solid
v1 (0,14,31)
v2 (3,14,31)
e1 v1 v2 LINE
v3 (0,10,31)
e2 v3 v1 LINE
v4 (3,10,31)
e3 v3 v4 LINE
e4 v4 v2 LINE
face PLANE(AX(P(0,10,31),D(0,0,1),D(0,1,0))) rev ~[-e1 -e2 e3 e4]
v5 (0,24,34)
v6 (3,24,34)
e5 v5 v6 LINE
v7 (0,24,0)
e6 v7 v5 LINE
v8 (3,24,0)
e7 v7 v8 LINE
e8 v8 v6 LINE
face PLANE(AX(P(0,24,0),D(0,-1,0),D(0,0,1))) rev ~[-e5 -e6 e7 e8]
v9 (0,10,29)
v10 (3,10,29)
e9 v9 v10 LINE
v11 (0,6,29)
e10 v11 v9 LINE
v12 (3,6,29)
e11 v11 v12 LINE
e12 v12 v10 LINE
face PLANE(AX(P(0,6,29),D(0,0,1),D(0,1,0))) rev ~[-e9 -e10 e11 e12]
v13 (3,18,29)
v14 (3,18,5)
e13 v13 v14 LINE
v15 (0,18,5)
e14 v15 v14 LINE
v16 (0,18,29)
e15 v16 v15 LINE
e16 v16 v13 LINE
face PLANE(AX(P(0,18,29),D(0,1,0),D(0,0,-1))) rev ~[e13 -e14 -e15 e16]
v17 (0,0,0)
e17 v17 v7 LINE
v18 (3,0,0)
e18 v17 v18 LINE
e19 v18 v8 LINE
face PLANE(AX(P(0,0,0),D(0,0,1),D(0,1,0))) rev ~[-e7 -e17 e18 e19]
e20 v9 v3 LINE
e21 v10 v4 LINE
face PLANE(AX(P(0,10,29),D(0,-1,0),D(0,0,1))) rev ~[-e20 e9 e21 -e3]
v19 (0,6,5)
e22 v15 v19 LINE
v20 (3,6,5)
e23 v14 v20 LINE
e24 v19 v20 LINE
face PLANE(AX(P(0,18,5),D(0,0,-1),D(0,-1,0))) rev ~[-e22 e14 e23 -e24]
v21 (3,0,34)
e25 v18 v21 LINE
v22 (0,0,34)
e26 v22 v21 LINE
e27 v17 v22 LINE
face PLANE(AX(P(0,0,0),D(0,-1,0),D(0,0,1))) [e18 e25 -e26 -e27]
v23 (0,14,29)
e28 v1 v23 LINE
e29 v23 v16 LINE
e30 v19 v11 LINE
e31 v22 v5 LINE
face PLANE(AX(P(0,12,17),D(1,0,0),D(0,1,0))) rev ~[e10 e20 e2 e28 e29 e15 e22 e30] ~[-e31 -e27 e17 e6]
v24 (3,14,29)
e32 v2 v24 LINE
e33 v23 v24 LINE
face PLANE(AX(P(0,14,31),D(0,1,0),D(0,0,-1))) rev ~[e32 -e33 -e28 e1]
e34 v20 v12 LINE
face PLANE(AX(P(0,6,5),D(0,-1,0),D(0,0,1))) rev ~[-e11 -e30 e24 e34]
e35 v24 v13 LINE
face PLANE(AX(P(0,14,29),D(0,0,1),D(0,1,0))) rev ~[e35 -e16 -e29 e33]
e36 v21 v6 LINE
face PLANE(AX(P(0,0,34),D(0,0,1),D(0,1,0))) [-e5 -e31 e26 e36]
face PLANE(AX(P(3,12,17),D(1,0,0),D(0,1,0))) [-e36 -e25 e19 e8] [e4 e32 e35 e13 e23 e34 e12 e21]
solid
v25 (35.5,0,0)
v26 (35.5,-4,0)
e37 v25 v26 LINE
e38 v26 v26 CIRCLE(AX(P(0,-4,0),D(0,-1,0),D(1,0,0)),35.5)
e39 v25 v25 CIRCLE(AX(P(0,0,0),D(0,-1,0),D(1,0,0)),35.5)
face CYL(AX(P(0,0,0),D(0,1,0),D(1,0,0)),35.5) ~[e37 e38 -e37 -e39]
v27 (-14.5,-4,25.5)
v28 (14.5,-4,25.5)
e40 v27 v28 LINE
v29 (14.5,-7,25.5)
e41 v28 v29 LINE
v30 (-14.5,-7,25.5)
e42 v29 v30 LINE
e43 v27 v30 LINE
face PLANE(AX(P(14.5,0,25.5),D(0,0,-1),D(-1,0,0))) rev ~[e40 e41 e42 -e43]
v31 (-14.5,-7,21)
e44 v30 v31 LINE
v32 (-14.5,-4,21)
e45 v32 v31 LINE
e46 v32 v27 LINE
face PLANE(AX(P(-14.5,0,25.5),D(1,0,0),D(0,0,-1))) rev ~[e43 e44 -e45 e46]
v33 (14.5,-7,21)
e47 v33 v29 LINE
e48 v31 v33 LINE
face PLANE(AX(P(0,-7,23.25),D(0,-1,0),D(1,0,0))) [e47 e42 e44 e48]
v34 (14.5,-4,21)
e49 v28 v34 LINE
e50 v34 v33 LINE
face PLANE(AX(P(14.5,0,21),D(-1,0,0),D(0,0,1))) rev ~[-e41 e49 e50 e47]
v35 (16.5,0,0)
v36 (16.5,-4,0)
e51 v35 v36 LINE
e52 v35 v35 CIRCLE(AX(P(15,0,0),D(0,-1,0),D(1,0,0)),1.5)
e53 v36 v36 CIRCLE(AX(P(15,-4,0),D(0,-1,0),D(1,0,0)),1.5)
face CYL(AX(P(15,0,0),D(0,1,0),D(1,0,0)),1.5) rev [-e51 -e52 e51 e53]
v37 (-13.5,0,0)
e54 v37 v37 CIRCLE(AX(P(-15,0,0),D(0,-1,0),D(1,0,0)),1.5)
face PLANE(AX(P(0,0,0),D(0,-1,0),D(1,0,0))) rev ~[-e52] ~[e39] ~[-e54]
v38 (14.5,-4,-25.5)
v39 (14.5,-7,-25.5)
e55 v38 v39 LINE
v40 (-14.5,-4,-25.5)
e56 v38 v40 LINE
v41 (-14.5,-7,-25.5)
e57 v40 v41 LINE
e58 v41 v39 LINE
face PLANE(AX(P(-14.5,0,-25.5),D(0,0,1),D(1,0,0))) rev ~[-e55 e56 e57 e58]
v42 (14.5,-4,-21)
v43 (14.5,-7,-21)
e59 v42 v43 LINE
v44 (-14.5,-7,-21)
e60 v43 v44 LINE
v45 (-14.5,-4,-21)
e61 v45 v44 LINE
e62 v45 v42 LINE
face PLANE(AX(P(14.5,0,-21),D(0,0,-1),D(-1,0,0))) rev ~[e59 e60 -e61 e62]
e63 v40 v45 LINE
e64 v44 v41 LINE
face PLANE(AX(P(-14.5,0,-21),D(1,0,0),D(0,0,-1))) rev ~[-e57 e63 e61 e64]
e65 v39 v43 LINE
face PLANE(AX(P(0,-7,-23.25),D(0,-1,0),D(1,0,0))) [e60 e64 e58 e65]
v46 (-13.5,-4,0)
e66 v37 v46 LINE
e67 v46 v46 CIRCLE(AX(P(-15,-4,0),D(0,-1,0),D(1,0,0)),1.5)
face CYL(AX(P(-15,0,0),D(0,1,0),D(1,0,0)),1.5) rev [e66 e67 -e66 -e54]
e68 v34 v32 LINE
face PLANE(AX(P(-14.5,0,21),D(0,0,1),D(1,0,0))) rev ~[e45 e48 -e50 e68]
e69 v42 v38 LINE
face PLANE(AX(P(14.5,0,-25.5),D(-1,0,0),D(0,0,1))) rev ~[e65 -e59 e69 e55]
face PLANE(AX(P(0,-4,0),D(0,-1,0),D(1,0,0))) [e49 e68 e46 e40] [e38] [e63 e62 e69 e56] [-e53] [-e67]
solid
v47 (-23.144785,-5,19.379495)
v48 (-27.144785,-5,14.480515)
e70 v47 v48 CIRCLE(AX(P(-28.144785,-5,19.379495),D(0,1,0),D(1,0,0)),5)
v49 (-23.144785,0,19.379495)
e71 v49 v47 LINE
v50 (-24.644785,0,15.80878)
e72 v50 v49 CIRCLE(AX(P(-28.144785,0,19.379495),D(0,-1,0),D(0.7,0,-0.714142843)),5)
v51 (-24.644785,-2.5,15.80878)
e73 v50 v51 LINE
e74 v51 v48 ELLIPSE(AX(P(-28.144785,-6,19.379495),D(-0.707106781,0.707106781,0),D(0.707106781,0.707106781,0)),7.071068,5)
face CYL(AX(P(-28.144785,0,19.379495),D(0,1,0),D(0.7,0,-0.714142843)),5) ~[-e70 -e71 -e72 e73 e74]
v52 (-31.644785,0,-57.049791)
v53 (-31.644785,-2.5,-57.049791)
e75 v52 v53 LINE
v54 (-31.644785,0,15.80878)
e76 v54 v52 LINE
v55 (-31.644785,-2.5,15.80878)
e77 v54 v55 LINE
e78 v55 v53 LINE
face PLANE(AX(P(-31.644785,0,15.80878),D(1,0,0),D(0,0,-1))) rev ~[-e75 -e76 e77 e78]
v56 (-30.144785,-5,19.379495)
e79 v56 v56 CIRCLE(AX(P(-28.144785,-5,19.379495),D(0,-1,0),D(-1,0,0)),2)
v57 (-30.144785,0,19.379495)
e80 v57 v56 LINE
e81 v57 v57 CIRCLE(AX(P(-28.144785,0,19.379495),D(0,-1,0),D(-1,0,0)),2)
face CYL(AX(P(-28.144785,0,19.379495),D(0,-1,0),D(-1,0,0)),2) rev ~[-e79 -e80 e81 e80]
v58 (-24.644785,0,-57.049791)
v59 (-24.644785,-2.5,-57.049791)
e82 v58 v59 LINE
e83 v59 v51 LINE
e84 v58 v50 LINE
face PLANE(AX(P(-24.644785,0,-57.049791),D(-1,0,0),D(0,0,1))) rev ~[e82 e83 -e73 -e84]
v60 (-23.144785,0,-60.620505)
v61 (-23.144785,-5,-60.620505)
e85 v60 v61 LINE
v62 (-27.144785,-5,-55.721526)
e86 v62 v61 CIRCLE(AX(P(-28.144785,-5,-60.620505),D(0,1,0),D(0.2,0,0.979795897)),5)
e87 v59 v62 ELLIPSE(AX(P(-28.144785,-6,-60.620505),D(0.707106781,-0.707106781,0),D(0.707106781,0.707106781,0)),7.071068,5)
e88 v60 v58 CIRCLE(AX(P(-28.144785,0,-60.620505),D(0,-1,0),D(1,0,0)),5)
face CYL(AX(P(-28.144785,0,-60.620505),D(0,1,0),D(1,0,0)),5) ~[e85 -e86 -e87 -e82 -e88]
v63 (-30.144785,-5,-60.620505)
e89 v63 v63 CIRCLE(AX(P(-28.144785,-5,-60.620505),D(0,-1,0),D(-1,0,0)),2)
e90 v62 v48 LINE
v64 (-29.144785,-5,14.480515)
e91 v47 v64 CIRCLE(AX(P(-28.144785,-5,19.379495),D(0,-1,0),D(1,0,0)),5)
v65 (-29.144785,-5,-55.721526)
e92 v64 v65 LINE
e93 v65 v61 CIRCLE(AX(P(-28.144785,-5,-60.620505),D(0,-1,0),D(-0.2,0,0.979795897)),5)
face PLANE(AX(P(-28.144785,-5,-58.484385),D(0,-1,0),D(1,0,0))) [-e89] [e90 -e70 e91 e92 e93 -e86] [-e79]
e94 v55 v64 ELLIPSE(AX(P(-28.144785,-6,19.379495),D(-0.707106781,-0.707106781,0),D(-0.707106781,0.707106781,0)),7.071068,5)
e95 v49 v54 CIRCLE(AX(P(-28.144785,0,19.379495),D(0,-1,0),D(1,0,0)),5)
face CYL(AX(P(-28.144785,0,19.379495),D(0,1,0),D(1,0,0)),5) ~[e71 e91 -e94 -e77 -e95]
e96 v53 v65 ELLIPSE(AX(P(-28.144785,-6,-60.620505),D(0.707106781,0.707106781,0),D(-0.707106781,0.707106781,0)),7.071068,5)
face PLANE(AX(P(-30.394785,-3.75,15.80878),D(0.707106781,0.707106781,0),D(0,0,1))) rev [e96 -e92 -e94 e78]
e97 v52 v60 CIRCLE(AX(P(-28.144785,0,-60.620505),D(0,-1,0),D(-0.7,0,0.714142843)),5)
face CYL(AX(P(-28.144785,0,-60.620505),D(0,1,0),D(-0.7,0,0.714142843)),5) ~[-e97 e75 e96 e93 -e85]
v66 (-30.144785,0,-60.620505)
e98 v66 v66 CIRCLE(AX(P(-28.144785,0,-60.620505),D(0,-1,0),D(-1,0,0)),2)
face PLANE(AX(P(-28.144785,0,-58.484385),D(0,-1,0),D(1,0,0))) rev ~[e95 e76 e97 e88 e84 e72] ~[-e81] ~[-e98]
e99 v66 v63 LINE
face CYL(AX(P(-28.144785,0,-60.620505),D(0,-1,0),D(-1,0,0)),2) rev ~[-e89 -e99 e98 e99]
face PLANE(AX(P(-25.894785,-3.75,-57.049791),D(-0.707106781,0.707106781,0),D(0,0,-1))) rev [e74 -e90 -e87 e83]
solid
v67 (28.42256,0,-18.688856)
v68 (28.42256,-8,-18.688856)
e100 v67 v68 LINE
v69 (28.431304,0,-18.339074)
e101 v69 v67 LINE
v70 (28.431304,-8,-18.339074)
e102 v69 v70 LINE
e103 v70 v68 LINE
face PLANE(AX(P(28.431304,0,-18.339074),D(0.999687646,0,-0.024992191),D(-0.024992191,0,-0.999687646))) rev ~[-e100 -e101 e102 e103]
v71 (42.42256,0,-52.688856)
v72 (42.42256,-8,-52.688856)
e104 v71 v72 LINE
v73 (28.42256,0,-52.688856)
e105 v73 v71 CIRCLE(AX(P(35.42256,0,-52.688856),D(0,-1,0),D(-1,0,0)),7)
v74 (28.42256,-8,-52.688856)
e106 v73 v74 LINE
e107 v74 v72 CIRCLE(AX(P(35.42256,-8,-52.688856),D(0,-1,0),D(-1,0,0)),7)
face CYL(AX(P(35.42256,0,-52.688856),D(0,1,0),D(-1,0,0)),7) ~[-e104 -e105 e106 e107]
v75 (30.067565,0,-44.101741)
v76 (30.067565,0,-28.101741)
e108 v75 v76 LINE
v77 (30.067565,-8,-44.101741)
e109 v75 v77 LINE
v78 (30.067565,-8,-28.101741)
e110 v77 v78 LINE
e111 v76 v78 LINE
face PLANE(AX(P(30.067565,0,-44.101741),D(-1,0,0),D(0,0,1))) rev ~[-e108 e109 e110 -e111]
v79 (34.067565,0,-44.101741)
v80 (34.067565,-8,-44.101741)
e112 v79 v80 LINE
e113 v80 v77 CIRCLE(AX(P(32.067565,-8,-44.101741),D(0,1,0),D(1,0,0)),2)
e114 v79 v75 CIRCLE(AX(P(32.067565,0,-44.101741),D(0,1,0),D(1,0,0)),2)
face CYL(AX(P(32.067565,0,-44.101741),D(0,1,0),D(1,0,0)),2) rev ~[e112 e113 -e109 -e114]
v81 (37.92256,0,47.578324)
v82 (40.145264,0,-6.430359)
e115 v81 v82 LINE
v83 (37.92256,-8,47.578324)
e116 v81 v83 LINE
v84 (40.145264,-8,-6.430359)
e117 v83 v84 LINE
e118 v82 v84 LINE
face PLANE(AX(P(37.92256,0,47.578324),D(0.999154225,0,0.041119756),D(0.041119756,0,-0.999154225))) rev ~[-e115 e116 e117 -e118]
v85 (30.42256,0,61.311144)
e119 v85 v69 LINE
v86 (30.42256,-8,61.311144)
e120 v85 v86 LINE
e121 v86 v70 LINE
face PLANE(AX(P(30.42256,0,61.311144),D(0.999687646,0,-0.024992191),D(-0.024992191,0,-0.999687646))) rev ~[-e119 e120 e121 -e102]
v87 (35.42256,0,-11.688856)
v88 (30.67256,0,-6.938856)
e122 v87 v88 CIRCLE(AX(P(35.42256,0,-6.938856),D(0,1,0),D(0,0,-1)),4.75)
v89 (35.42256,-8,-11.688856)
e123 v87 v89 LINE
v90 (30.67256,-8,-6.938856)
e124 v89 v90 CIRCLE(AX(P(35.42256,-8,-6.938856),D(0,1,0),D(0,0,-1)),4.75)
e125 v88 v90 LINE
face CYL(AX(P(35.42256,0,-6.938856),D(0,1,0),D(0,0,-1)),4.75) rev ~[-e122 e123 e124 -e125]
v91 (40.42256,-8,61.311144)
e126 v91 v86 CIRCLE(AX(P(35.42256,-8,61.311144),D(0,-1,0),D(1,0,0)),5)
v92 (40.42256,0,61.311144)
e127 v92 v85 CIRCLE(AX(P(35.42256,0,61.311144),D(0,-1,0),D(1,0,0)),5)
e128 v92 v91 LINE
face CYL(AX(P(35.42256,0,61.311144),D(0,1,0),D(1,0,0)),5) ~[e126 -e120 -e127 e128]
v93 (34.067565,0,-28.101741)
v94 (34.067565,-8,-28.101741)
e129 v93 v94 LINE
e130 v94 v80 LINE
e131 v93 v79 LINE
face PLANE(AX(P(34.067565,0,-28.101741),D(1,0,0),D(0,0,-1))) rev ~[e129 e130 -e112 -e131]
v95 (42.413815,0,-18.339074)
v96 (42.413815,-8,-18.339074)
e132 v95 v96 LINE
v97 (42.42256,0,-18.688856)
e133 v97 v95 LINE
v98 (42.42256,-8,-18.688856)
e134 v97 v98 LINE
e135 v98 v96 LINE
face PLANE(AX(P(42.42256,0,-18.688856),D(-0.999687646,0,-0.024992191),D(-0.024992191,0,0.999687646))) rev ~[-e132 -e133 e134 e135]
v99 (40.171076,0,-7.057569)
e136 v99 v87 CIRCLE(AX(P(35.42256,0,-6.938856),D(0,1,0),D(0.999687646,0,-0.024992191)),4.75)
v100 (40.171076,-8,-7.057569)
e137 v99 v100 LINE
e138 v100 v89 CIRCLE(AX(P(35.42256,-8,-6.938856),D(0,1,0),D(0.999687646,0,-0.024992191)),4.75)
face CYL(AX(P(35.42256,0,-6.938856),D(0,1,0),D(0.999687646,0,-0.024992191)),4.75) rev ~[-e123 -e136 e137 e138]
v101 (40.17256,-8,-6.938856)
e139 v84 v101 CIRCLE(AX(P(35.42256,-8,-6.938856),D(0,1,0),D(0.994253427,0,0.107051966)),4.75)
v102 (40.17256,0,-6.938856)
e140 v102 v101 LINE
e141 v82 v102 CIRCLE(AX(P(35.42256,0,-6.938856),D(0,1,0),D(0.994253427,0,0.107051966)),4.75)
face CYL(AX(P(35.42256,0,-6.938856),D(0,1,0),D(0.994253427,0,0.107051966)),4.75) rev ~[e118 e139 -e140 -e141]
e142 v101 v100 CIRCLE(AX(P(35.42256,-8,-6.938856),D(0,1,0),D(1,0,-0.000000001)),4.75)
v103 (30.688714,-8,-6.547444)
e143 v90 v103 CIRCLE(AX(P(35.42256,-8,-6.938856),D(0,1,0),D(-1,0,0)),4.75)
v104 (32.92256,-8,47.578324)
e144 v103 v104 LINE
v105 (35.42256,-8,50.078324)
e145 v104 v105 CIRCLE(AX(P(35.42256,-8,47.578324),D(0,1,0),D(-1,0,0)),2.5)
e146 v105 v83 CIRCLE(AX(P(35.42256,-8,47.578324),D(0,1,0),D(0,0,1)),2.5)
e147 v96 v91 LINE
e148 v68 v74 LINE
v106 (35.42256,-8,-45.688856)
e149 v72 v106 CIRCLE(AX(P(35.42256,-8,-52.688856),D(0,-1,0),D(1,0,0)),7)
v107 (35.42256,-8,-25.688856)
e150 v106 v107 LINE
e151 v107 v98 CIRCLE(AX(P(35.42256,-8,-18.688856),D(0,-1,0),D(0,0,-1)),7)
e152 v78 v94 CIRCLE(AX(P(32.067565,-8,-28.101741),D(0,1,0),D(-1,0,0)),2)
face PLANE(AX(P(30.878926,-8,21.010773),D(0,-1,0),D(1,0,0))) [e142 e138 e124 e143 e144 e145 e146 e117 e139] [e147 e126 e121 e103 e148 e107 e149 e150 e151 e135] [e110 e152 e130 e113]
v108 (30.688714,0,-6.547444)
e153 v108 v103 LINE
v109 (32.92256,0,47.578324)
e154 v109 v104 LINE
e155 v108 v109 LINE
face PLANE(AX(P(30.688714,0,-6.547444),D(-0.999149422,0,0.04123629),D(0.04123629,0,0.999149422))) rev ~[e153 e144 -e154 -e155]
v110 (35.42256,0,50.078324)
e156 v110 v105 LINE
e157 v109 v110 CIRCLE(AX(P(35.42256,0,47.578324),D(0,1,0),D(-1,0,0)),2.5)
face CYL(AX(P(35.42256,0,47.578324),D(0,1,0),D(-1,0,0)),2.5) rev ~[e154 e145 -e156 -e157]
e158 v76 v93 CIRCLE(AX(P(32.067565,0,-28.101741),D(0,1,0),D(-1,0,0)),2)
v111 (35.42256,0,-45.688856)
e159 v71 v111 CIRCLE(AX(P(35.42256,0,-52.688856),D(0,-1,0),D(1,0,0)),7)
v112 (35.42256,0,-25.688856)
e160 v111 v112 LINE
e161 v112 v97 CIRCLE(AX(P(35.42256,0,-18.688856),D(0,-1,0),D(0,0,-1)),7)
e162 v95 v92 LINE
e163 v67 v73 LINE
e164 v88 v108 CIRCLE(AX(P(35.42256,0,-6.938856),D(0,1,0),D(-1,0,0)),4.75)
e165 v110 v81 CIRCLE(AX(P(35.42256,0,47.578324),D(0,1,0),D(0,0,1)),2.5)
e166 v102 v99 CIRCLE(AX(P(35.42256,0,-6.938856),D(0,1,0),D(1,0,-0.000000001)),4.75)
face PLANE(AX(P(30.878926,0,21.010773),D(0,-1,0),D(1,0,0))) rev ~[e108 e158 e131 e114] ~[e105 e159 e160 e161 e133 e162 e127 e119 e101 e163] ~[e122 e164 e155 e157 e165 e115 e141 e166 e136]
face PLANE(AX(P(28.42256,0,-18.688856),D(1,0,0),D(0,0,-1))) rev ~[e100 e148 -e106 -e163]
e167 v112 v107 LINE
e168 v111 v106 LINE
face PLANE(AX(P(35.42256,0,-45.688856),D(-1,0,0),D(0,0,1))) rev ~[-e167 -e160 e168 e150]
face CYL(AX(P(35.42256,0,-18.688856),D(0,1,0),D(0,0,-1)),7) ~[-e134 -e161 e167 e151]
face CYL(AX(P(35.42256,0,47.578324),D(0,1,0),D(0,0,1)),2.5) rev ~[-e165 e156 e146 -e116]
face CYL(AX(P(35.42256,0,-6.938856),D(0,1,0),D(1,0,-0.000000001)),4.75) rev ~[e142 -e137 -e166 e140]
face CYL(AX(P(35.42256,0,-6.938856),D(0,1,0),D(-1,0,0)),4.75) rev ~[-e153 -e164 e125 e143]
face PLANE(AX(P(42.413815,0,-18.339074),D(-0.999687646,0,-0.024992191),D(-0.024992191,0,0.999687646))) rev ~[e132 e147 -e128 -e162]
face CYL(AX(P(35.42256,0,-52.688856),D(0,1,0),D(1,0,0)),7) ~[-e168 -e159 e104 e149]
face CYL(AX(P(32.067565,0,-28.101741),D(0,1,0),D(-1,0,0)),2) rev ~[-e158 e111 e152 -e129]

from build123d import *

# Parameters (mm, degrees)
F0_R           = 35.5
F0_R_2         = 1.5
F1_DEPTH       = 4
F2_DEPTH       = 7
F5_DEPTH       = 5
F6_SIZE        = 2.5
F7_D           = 4
F7_DEPTH       = 6
F7_CBORE_D     = 6
F7_CBORE_DEPTH = 0
F7_TIP         = 1.2017212381
F3_W           = 24
F3_H           = 34
F8_DEPTH       = 3
F10_DEPTH      = 8


with BuildPart() as f1:
    # F0 (on Front) → F1 (new body)
    with BuildSketch(Plane.XZ):
        Circle(F0_R)
        Polygon((14.5, -21), (14.5, -25.5), (-14.5, -25.5), (-14.5, -21), (0, -21), align=None, mode=Mode.SUBTRACT)
        with Locations((-15, 0)):
            Circle(F0_R_2, mode=Mode.SUBTRACT)
        with Locations((15, 0)):
            Circle(F0_R_2, mode=Mode.SUBTRACT)
        Polygon((14.5, 21), (0, 21), (-14.5, 21), (-14.5, 25.5), (14.5, 25.5), align=None, mode=Mode.SUBTRACT)
    extrude(amount=F1_DEPTH)

    # F0 (on Front) → F2 (join)
    with BuildSketch(Plane.XZ):
        Polygon((-14.5, -25.5), (14.5, -25.5), (14.5, -21), (0, -21), (-14.5, -21), align=None)
        Polygon((-14.5, 21), (0, 21), (14.5, 21), (14.5, 25.5), (-14.5, 25.5), align=None)
    extrude(amount=F2_DEPTH)


with BuildPart() as f5:
    # F4 (on Front) → F5 (new body)
    with BuildSketch(Plane.XZ):
        with BuildLine():
            ThreePointArc((-24.6447846293, -57.0497911485), (-28.1447846293, -55.6205053627), (-31.6447846293, -57.0497911485))
            Line((-31.6447846293, -57.0497911485), (-31.6447846293, -60.6205053627))
            Line((-31.6447846293, -60.6205053627), (-28.1447846293, -60.6205053627))
            Line((-28.1447846293, -60.6205053627), (-24.6447846293, -60.6205053627))
            Line((-24.6447846293, -60.6205053627), (-24.6447846293, -57.0497911485))
        make_face()
        with BuildLine():
            ThreePointArc((-24.6447846293, 15.808780423), (-28.1447846293, 14.3794946373), (-31.6447846293, 15.808780423))
            Line((-31.6447846293, 15.808780423), (-31.6447846293, -57.0497911485))
            ThreePointArc((-31.6447846293, -57.0497911485), (-28.1447846293, -55.6205053627), (-24.6447846293, -57.0497911485))
            Line((-24.6447846293, -57.0497911485), (-24.6447846293, 15.808780423))
        make_face()
        with BuildLine():
            Line((-31.6447846293, 15.808780423), (-31.6447846293, 19.3794946373))
            Line((-31.6447846293, 19.3794946373), (-28.1447846293, 19.3794946373))
            Line((-28.1447846293, 19.3794946373), (-24.6447846293, 19.3794946373))
            Line((-24.6447846293, 19.3794946373), (-24.6447846293, 15.808780423))
            ThreePointArc((-24.6447846293, 15.808780423), (-23.5350124007, 17.4430029641), (-23.1447846293, 19.3794946373))
            ThreePointArc((-23.1447846293, 19.3794946373), (-30.0812763024, 23.9892668659), (-31.6447846293, 15.808780423))
        make_face()
        with BuildLine():
            Line((-28.1447846293, 19.3794946373), (-31.6447846293, 19.3794946373))
            Line((-31.6447846293, 19.3794946373), (-31.6447846293, 15.808780423))
            ThreePointArc((-31.6447846293, 15.808780423), (-28.1447846293, 14.3794946373), (-24.6447846293, 15.808780423))
            Line((-24.6447846293, 15.808780423), (-24.6447846293, 19.3794946373))
            Line((-24.6447846293, 19.3794946373), (-28.1447846293, 19.3794946373))
        make_face()
        with BuildLine():
            Line((-31.6447846293, -60.6205053627), (-31.6447846293, -57.0497911485))
            ThreePointArc((-31.6447846293, -57.0497911485), (-30.0812763024, -65.2302775914), (-23.1447846293, -60.6205053627))
            ThreePointArc((-23.1447846293, -60.6205053627), (-23.5350124007, -58.6840136896), (-24.6447846293, -57.0497911485))
            Line((-24.6447846293, -57.0497911485), (-24.6447846293, -60.6205053627))
            Line((-24.6447846293, -60.6205053627), (-28.1447846293, -60.6205053627))
            Line((-28.1447846293, -60.6205053627), (-31.6447846293, -60.6205053627))
        make_face()
    extrude(amount=F5_DEPTH)

    # F6
    f6_edges = [f5.edges().sort_by_distance(p)[0] for p in [
        (-31.644785, -5, -20.620505),
        (-24.644785, -5, -20.620505),
    ]]
    chamfer(f6_edges, length=F6_SIZE)

    # F7
    with Locations(Plane(origin=(0, 0, 0), x_dir=(1, 0, 0), z_dir=(0, 1, 0))):
        with Locations((-28.1447846293, -19.3794946373), (-28.1447846293, 60.6205053627)):
            CounterBoreHole(F7_D / 2, F7_CBORE_D / 2, F7_CBORE_DEPTH, depth=F7_DEPTH)
            with Locations((0, 0, -(F7_DEPTH + F7_TIP / 2))):  # 118° drill point
                Cone(0, F7_D / 2, F7_TIP, mode=Mode.SUBTRACT)


with BuildPart() as f8:
    # F3 (on Right) → F8 (new body)
    with BuildSketch(Plane.YZ):
        with Locations((12, 17)):
            Rectangle(F3_W, F3_H)
        Polygon((6, 5), (6, 29), (10, 29), (10, 31), (14, 31), (14, 29), (18, 29), (18, 5), align=None, mode=Mode.SUBTRACT)
    extrude(amount=F8_DEPTH)


with BuildPart() as f10:
    # F9 (on Front) → F10 (new body)
    with BuildSketch(Plane.XZ):
        with BuildLine():
            Line((35.4225598276, 52.5783236325), (35.4225598276, 56.3111443222))
            ThreePointArc((35.4225598276, 56.3111443222), (31.8870259216, 57.7756104162), (30.4225598276, 61.3111443222))
            Line((30.4225598276, 61.3111443222), (28.4313043622, -18.3390742912))
            ThreePointArc((28.4313043622, -18.3390742912), (30.5980634656, -13.616949246), (35.4225598276, -11.6888556778))
            ThreePointArc((35.4225598276, -11.6888556778), (32.0638026169, -10.2976128885), (30.6725598276, -6.9388556778))
            ThreePointArc((30.6725598276, -6.9388556778), (30.6766000709, -6.7429833017), (30.6887139277, -6.5474441348))
            Line((30.6887139277, -6.5474441348), (32.9225598276, 47.5783236325))
            ThreePointArc((32.9225598276, 47.5783236325), (33.6547928746, 49.3460905854), (35.4225598276, 50.0783236325))
            Line((35.4225598276, 50.0783236325), (35.4225598276, 52.5783236325))
        make_face()
        with BuildLine():
            Line((30.4225598276, 61.3111443222), (35.4225598276, 61.3111443222))
            Line((35.4225598276, 61.3111443222), (40.4225598276, 61.3111443222))
            ThreePointArc((40.4225598276, 61.3111443222), (35.4225598276, 66.3111443222), (30.4225598276, 61.3111443222))
        make_face()
        with BuildLine():
            Line((35.4225598276, 56.3111443222), (35.4225598276, 61.3111443222))
            Line((35.4225598276, 61.3111443222), (30.4225598276, 61.3111443222))
            ThreePointArc((30.4225598276, 61.3111443222), (31.8870259216, 57.7756104162), (35.4225598276, 56.3111443222))
        make_face()
        with BuildLine():
            Line((40.4225598276, 61.3111443222), (35.4225598276, 61.3111443222))
            Line((35.4225598276, 61.3111443222), (35.4225598276, 56.3111443222))
            ThreePointArc((35.4225598276, 56.3111443222), (38.9580937335, 57.7756104162), (40.4225598276, 61.3111443222))
        make_face()
        with BuildLine():
            ThreePointArc((40.4225598276, 61.3111443222), (38.9580937335, 57.7756104162), (35.4225598276, 56.3111443222))
            Line((35.4225598276, 56.3111443222), (35.4225598276, 52.5783236325))
            Line((35.4225598276, 52.5783236325), (35.4225598276, 50.0783236325))
            ThreePointArc((35.4225598276, 50.0783236325), (37.1903267805, 49.3460905854), (37.9225598276, 47.5783236325))
            Line((37.9225598276, 47.5783236325), (40.1452636043, -6.4303588366))
            ThreePointArc((40.1452636043, -6.4303588366), (40.1657308628, -6.6842412039), (40.1725598276, -6.9388556778))
            ThreePointArc((40.1725598276, -6.9388556778), (40.1721888932, -6.9982167674), (40.171076148, -7.0575685859))
            ThreePointArc((40.171076148, -7.0575685859), (38.739080119, -10.3393252273), (35.4225598276, -11.6888556778))
            ThreePointArc((35.4225598276, -11.6888556778), (40.2470561895, -13.616949246), (42.4138152929, -18.3390742912))
            Line((42.4138152929, -18.3390742912), (40.4225598276, 61.3111443222))
        make_face()
        with BuildLine():
            ThreePointArc((35.4225598276, -11.6888556778), (30.5980634656, -13.616949246), (28.4313043622, -18.3390742912))
            Line((28.4313043622, -18.3390742912), (28.4225598276, -18.6888556778))
            Line((28.4225598276, -18.6888556778), (35.4225598276, -18.6888556778))
            Line((35.4225598276, -18.6888556778), (35.4225598276, -11.6888556778))
        make_face()
        with BuildLine():
            Line((42.4225598276, -18.6888556778), (42.4138152929, -18.3390742912))
            ThreePointArc((42.4138152929, -18.3390742912), (40.2470561895, -13.616949246), (35.4225598276, -11.6888556778))
            Line((35.4225598276, -11.6888556778), (35.4225598276, -18.6888556778))
            Line((35.4225598276, -18.6888556778), (42.4225598276, -18.6888556778))
        make_face()
        with BuildLine():
            ThreePointArc((35.4225598276, -25.6888556778), (40.3723072959, -23.6386031461), (42.4225598276, -18.6888556778))
            Line((42.4225598276, -18.6888556778), (35.4225598276, -18.6888556778))
            Line((35.4225598276, -18.6888556778), (35.4225598276, -25.6888556778))
        make_face()
        with BuildLine():
            Line((35.4225598276, -18.6888556778), (28.4225598276, -18.6888556778))
            ThreePointArc((28.4225598276, -18.6888556778), (30.4728123593, -23.6386031461), (35.4225598276, -25.6888556778))
            Line((35.4225598276, -25.6888556778), (35.4225598276, -18.6888556778))
        make_face()
        with BuildLine():
            ThreePointArc((35.4225598276, -25.6888556778), (30.4728123593, -23.6386031461), (28.4225598276, -18.6888556778))
            Line((28.4225598276, -18.6888556778), (28.4225598276, -52.6888556778))
            ThreePointArc((28.4225598276, -52.6888556778), (30.4728123593, -47.7391082095), (35.4225598276, -45.6888556778))
            Line((35.4225598276, -45.6888556778), (35.4225598276, -43.6571886837))
            Line((35.4225598276, -43.6571886837), (35.4225598276, -26.6888556778))
            Line((35.4225598276, -26.6888556778), (35.4225598276, -25.6888556778))
        make_face()
        with BuildLine():
            Line((34.0675652474, -28.1017411649), (34.0675652474, -44.1017411649))
            ThreePointArc((34.0675652474, -44.1017411649), (32.0675652474, -46.1017411649), (30.0675652474, -44.1017411649))
            Line((30.0675652474, -44.1017411649), (30.0675652474, -28.1017411649))
            ThreePointArc((30.0675652474, -28.1017411649), (32.0675652474, -26.1017411649), (34.0675652474, -28.1017411649))
        make_face(mode=Mode.SUBTRACT)
        with BuildLine():
            ThreePointArc((35.4225598276, -45.6888556778), (30.4728123593, -47.7391082095), (28.4225598276, -52.6888556778))
            Line((28.4225598276, -52.6888556778), (35.4225598276, -52.6888556778))
            Line((35.4225598276, -52.6888556778), (35.4225598276, -45.6888556778))
        make_face()
        with BuildLine():
            Line((35.4225598276, -52.6888556778), (42.4225598276, -52.6888556778))
            ThreePointArc((42.4225598276, -52.6888556778), (40.3723072959, -47.7391082095), (35.4225598276, -45.6888556778))
            Line((35.4225598276, -45.6888556778), (35.4225598276, -52.6888556778))
        make_face()
        with BuildLine():
            Line((35.4225598276, -52.6888556778), (28.4225598276, -52.6888556778))
            ThreePointArc((28.4225598276, -52.6888556778), (35.4225598276, -59.6888556778), (42.4225598276, -52.6888556778))
            Line((42.4225598276, -52.6888556778), (35.4225598276, -52.6888556778))
        make_face()
    extrude(amount=F10_DEPTH)


solid = Compound([f1.part, f5.part, f8.part, f10.part])
